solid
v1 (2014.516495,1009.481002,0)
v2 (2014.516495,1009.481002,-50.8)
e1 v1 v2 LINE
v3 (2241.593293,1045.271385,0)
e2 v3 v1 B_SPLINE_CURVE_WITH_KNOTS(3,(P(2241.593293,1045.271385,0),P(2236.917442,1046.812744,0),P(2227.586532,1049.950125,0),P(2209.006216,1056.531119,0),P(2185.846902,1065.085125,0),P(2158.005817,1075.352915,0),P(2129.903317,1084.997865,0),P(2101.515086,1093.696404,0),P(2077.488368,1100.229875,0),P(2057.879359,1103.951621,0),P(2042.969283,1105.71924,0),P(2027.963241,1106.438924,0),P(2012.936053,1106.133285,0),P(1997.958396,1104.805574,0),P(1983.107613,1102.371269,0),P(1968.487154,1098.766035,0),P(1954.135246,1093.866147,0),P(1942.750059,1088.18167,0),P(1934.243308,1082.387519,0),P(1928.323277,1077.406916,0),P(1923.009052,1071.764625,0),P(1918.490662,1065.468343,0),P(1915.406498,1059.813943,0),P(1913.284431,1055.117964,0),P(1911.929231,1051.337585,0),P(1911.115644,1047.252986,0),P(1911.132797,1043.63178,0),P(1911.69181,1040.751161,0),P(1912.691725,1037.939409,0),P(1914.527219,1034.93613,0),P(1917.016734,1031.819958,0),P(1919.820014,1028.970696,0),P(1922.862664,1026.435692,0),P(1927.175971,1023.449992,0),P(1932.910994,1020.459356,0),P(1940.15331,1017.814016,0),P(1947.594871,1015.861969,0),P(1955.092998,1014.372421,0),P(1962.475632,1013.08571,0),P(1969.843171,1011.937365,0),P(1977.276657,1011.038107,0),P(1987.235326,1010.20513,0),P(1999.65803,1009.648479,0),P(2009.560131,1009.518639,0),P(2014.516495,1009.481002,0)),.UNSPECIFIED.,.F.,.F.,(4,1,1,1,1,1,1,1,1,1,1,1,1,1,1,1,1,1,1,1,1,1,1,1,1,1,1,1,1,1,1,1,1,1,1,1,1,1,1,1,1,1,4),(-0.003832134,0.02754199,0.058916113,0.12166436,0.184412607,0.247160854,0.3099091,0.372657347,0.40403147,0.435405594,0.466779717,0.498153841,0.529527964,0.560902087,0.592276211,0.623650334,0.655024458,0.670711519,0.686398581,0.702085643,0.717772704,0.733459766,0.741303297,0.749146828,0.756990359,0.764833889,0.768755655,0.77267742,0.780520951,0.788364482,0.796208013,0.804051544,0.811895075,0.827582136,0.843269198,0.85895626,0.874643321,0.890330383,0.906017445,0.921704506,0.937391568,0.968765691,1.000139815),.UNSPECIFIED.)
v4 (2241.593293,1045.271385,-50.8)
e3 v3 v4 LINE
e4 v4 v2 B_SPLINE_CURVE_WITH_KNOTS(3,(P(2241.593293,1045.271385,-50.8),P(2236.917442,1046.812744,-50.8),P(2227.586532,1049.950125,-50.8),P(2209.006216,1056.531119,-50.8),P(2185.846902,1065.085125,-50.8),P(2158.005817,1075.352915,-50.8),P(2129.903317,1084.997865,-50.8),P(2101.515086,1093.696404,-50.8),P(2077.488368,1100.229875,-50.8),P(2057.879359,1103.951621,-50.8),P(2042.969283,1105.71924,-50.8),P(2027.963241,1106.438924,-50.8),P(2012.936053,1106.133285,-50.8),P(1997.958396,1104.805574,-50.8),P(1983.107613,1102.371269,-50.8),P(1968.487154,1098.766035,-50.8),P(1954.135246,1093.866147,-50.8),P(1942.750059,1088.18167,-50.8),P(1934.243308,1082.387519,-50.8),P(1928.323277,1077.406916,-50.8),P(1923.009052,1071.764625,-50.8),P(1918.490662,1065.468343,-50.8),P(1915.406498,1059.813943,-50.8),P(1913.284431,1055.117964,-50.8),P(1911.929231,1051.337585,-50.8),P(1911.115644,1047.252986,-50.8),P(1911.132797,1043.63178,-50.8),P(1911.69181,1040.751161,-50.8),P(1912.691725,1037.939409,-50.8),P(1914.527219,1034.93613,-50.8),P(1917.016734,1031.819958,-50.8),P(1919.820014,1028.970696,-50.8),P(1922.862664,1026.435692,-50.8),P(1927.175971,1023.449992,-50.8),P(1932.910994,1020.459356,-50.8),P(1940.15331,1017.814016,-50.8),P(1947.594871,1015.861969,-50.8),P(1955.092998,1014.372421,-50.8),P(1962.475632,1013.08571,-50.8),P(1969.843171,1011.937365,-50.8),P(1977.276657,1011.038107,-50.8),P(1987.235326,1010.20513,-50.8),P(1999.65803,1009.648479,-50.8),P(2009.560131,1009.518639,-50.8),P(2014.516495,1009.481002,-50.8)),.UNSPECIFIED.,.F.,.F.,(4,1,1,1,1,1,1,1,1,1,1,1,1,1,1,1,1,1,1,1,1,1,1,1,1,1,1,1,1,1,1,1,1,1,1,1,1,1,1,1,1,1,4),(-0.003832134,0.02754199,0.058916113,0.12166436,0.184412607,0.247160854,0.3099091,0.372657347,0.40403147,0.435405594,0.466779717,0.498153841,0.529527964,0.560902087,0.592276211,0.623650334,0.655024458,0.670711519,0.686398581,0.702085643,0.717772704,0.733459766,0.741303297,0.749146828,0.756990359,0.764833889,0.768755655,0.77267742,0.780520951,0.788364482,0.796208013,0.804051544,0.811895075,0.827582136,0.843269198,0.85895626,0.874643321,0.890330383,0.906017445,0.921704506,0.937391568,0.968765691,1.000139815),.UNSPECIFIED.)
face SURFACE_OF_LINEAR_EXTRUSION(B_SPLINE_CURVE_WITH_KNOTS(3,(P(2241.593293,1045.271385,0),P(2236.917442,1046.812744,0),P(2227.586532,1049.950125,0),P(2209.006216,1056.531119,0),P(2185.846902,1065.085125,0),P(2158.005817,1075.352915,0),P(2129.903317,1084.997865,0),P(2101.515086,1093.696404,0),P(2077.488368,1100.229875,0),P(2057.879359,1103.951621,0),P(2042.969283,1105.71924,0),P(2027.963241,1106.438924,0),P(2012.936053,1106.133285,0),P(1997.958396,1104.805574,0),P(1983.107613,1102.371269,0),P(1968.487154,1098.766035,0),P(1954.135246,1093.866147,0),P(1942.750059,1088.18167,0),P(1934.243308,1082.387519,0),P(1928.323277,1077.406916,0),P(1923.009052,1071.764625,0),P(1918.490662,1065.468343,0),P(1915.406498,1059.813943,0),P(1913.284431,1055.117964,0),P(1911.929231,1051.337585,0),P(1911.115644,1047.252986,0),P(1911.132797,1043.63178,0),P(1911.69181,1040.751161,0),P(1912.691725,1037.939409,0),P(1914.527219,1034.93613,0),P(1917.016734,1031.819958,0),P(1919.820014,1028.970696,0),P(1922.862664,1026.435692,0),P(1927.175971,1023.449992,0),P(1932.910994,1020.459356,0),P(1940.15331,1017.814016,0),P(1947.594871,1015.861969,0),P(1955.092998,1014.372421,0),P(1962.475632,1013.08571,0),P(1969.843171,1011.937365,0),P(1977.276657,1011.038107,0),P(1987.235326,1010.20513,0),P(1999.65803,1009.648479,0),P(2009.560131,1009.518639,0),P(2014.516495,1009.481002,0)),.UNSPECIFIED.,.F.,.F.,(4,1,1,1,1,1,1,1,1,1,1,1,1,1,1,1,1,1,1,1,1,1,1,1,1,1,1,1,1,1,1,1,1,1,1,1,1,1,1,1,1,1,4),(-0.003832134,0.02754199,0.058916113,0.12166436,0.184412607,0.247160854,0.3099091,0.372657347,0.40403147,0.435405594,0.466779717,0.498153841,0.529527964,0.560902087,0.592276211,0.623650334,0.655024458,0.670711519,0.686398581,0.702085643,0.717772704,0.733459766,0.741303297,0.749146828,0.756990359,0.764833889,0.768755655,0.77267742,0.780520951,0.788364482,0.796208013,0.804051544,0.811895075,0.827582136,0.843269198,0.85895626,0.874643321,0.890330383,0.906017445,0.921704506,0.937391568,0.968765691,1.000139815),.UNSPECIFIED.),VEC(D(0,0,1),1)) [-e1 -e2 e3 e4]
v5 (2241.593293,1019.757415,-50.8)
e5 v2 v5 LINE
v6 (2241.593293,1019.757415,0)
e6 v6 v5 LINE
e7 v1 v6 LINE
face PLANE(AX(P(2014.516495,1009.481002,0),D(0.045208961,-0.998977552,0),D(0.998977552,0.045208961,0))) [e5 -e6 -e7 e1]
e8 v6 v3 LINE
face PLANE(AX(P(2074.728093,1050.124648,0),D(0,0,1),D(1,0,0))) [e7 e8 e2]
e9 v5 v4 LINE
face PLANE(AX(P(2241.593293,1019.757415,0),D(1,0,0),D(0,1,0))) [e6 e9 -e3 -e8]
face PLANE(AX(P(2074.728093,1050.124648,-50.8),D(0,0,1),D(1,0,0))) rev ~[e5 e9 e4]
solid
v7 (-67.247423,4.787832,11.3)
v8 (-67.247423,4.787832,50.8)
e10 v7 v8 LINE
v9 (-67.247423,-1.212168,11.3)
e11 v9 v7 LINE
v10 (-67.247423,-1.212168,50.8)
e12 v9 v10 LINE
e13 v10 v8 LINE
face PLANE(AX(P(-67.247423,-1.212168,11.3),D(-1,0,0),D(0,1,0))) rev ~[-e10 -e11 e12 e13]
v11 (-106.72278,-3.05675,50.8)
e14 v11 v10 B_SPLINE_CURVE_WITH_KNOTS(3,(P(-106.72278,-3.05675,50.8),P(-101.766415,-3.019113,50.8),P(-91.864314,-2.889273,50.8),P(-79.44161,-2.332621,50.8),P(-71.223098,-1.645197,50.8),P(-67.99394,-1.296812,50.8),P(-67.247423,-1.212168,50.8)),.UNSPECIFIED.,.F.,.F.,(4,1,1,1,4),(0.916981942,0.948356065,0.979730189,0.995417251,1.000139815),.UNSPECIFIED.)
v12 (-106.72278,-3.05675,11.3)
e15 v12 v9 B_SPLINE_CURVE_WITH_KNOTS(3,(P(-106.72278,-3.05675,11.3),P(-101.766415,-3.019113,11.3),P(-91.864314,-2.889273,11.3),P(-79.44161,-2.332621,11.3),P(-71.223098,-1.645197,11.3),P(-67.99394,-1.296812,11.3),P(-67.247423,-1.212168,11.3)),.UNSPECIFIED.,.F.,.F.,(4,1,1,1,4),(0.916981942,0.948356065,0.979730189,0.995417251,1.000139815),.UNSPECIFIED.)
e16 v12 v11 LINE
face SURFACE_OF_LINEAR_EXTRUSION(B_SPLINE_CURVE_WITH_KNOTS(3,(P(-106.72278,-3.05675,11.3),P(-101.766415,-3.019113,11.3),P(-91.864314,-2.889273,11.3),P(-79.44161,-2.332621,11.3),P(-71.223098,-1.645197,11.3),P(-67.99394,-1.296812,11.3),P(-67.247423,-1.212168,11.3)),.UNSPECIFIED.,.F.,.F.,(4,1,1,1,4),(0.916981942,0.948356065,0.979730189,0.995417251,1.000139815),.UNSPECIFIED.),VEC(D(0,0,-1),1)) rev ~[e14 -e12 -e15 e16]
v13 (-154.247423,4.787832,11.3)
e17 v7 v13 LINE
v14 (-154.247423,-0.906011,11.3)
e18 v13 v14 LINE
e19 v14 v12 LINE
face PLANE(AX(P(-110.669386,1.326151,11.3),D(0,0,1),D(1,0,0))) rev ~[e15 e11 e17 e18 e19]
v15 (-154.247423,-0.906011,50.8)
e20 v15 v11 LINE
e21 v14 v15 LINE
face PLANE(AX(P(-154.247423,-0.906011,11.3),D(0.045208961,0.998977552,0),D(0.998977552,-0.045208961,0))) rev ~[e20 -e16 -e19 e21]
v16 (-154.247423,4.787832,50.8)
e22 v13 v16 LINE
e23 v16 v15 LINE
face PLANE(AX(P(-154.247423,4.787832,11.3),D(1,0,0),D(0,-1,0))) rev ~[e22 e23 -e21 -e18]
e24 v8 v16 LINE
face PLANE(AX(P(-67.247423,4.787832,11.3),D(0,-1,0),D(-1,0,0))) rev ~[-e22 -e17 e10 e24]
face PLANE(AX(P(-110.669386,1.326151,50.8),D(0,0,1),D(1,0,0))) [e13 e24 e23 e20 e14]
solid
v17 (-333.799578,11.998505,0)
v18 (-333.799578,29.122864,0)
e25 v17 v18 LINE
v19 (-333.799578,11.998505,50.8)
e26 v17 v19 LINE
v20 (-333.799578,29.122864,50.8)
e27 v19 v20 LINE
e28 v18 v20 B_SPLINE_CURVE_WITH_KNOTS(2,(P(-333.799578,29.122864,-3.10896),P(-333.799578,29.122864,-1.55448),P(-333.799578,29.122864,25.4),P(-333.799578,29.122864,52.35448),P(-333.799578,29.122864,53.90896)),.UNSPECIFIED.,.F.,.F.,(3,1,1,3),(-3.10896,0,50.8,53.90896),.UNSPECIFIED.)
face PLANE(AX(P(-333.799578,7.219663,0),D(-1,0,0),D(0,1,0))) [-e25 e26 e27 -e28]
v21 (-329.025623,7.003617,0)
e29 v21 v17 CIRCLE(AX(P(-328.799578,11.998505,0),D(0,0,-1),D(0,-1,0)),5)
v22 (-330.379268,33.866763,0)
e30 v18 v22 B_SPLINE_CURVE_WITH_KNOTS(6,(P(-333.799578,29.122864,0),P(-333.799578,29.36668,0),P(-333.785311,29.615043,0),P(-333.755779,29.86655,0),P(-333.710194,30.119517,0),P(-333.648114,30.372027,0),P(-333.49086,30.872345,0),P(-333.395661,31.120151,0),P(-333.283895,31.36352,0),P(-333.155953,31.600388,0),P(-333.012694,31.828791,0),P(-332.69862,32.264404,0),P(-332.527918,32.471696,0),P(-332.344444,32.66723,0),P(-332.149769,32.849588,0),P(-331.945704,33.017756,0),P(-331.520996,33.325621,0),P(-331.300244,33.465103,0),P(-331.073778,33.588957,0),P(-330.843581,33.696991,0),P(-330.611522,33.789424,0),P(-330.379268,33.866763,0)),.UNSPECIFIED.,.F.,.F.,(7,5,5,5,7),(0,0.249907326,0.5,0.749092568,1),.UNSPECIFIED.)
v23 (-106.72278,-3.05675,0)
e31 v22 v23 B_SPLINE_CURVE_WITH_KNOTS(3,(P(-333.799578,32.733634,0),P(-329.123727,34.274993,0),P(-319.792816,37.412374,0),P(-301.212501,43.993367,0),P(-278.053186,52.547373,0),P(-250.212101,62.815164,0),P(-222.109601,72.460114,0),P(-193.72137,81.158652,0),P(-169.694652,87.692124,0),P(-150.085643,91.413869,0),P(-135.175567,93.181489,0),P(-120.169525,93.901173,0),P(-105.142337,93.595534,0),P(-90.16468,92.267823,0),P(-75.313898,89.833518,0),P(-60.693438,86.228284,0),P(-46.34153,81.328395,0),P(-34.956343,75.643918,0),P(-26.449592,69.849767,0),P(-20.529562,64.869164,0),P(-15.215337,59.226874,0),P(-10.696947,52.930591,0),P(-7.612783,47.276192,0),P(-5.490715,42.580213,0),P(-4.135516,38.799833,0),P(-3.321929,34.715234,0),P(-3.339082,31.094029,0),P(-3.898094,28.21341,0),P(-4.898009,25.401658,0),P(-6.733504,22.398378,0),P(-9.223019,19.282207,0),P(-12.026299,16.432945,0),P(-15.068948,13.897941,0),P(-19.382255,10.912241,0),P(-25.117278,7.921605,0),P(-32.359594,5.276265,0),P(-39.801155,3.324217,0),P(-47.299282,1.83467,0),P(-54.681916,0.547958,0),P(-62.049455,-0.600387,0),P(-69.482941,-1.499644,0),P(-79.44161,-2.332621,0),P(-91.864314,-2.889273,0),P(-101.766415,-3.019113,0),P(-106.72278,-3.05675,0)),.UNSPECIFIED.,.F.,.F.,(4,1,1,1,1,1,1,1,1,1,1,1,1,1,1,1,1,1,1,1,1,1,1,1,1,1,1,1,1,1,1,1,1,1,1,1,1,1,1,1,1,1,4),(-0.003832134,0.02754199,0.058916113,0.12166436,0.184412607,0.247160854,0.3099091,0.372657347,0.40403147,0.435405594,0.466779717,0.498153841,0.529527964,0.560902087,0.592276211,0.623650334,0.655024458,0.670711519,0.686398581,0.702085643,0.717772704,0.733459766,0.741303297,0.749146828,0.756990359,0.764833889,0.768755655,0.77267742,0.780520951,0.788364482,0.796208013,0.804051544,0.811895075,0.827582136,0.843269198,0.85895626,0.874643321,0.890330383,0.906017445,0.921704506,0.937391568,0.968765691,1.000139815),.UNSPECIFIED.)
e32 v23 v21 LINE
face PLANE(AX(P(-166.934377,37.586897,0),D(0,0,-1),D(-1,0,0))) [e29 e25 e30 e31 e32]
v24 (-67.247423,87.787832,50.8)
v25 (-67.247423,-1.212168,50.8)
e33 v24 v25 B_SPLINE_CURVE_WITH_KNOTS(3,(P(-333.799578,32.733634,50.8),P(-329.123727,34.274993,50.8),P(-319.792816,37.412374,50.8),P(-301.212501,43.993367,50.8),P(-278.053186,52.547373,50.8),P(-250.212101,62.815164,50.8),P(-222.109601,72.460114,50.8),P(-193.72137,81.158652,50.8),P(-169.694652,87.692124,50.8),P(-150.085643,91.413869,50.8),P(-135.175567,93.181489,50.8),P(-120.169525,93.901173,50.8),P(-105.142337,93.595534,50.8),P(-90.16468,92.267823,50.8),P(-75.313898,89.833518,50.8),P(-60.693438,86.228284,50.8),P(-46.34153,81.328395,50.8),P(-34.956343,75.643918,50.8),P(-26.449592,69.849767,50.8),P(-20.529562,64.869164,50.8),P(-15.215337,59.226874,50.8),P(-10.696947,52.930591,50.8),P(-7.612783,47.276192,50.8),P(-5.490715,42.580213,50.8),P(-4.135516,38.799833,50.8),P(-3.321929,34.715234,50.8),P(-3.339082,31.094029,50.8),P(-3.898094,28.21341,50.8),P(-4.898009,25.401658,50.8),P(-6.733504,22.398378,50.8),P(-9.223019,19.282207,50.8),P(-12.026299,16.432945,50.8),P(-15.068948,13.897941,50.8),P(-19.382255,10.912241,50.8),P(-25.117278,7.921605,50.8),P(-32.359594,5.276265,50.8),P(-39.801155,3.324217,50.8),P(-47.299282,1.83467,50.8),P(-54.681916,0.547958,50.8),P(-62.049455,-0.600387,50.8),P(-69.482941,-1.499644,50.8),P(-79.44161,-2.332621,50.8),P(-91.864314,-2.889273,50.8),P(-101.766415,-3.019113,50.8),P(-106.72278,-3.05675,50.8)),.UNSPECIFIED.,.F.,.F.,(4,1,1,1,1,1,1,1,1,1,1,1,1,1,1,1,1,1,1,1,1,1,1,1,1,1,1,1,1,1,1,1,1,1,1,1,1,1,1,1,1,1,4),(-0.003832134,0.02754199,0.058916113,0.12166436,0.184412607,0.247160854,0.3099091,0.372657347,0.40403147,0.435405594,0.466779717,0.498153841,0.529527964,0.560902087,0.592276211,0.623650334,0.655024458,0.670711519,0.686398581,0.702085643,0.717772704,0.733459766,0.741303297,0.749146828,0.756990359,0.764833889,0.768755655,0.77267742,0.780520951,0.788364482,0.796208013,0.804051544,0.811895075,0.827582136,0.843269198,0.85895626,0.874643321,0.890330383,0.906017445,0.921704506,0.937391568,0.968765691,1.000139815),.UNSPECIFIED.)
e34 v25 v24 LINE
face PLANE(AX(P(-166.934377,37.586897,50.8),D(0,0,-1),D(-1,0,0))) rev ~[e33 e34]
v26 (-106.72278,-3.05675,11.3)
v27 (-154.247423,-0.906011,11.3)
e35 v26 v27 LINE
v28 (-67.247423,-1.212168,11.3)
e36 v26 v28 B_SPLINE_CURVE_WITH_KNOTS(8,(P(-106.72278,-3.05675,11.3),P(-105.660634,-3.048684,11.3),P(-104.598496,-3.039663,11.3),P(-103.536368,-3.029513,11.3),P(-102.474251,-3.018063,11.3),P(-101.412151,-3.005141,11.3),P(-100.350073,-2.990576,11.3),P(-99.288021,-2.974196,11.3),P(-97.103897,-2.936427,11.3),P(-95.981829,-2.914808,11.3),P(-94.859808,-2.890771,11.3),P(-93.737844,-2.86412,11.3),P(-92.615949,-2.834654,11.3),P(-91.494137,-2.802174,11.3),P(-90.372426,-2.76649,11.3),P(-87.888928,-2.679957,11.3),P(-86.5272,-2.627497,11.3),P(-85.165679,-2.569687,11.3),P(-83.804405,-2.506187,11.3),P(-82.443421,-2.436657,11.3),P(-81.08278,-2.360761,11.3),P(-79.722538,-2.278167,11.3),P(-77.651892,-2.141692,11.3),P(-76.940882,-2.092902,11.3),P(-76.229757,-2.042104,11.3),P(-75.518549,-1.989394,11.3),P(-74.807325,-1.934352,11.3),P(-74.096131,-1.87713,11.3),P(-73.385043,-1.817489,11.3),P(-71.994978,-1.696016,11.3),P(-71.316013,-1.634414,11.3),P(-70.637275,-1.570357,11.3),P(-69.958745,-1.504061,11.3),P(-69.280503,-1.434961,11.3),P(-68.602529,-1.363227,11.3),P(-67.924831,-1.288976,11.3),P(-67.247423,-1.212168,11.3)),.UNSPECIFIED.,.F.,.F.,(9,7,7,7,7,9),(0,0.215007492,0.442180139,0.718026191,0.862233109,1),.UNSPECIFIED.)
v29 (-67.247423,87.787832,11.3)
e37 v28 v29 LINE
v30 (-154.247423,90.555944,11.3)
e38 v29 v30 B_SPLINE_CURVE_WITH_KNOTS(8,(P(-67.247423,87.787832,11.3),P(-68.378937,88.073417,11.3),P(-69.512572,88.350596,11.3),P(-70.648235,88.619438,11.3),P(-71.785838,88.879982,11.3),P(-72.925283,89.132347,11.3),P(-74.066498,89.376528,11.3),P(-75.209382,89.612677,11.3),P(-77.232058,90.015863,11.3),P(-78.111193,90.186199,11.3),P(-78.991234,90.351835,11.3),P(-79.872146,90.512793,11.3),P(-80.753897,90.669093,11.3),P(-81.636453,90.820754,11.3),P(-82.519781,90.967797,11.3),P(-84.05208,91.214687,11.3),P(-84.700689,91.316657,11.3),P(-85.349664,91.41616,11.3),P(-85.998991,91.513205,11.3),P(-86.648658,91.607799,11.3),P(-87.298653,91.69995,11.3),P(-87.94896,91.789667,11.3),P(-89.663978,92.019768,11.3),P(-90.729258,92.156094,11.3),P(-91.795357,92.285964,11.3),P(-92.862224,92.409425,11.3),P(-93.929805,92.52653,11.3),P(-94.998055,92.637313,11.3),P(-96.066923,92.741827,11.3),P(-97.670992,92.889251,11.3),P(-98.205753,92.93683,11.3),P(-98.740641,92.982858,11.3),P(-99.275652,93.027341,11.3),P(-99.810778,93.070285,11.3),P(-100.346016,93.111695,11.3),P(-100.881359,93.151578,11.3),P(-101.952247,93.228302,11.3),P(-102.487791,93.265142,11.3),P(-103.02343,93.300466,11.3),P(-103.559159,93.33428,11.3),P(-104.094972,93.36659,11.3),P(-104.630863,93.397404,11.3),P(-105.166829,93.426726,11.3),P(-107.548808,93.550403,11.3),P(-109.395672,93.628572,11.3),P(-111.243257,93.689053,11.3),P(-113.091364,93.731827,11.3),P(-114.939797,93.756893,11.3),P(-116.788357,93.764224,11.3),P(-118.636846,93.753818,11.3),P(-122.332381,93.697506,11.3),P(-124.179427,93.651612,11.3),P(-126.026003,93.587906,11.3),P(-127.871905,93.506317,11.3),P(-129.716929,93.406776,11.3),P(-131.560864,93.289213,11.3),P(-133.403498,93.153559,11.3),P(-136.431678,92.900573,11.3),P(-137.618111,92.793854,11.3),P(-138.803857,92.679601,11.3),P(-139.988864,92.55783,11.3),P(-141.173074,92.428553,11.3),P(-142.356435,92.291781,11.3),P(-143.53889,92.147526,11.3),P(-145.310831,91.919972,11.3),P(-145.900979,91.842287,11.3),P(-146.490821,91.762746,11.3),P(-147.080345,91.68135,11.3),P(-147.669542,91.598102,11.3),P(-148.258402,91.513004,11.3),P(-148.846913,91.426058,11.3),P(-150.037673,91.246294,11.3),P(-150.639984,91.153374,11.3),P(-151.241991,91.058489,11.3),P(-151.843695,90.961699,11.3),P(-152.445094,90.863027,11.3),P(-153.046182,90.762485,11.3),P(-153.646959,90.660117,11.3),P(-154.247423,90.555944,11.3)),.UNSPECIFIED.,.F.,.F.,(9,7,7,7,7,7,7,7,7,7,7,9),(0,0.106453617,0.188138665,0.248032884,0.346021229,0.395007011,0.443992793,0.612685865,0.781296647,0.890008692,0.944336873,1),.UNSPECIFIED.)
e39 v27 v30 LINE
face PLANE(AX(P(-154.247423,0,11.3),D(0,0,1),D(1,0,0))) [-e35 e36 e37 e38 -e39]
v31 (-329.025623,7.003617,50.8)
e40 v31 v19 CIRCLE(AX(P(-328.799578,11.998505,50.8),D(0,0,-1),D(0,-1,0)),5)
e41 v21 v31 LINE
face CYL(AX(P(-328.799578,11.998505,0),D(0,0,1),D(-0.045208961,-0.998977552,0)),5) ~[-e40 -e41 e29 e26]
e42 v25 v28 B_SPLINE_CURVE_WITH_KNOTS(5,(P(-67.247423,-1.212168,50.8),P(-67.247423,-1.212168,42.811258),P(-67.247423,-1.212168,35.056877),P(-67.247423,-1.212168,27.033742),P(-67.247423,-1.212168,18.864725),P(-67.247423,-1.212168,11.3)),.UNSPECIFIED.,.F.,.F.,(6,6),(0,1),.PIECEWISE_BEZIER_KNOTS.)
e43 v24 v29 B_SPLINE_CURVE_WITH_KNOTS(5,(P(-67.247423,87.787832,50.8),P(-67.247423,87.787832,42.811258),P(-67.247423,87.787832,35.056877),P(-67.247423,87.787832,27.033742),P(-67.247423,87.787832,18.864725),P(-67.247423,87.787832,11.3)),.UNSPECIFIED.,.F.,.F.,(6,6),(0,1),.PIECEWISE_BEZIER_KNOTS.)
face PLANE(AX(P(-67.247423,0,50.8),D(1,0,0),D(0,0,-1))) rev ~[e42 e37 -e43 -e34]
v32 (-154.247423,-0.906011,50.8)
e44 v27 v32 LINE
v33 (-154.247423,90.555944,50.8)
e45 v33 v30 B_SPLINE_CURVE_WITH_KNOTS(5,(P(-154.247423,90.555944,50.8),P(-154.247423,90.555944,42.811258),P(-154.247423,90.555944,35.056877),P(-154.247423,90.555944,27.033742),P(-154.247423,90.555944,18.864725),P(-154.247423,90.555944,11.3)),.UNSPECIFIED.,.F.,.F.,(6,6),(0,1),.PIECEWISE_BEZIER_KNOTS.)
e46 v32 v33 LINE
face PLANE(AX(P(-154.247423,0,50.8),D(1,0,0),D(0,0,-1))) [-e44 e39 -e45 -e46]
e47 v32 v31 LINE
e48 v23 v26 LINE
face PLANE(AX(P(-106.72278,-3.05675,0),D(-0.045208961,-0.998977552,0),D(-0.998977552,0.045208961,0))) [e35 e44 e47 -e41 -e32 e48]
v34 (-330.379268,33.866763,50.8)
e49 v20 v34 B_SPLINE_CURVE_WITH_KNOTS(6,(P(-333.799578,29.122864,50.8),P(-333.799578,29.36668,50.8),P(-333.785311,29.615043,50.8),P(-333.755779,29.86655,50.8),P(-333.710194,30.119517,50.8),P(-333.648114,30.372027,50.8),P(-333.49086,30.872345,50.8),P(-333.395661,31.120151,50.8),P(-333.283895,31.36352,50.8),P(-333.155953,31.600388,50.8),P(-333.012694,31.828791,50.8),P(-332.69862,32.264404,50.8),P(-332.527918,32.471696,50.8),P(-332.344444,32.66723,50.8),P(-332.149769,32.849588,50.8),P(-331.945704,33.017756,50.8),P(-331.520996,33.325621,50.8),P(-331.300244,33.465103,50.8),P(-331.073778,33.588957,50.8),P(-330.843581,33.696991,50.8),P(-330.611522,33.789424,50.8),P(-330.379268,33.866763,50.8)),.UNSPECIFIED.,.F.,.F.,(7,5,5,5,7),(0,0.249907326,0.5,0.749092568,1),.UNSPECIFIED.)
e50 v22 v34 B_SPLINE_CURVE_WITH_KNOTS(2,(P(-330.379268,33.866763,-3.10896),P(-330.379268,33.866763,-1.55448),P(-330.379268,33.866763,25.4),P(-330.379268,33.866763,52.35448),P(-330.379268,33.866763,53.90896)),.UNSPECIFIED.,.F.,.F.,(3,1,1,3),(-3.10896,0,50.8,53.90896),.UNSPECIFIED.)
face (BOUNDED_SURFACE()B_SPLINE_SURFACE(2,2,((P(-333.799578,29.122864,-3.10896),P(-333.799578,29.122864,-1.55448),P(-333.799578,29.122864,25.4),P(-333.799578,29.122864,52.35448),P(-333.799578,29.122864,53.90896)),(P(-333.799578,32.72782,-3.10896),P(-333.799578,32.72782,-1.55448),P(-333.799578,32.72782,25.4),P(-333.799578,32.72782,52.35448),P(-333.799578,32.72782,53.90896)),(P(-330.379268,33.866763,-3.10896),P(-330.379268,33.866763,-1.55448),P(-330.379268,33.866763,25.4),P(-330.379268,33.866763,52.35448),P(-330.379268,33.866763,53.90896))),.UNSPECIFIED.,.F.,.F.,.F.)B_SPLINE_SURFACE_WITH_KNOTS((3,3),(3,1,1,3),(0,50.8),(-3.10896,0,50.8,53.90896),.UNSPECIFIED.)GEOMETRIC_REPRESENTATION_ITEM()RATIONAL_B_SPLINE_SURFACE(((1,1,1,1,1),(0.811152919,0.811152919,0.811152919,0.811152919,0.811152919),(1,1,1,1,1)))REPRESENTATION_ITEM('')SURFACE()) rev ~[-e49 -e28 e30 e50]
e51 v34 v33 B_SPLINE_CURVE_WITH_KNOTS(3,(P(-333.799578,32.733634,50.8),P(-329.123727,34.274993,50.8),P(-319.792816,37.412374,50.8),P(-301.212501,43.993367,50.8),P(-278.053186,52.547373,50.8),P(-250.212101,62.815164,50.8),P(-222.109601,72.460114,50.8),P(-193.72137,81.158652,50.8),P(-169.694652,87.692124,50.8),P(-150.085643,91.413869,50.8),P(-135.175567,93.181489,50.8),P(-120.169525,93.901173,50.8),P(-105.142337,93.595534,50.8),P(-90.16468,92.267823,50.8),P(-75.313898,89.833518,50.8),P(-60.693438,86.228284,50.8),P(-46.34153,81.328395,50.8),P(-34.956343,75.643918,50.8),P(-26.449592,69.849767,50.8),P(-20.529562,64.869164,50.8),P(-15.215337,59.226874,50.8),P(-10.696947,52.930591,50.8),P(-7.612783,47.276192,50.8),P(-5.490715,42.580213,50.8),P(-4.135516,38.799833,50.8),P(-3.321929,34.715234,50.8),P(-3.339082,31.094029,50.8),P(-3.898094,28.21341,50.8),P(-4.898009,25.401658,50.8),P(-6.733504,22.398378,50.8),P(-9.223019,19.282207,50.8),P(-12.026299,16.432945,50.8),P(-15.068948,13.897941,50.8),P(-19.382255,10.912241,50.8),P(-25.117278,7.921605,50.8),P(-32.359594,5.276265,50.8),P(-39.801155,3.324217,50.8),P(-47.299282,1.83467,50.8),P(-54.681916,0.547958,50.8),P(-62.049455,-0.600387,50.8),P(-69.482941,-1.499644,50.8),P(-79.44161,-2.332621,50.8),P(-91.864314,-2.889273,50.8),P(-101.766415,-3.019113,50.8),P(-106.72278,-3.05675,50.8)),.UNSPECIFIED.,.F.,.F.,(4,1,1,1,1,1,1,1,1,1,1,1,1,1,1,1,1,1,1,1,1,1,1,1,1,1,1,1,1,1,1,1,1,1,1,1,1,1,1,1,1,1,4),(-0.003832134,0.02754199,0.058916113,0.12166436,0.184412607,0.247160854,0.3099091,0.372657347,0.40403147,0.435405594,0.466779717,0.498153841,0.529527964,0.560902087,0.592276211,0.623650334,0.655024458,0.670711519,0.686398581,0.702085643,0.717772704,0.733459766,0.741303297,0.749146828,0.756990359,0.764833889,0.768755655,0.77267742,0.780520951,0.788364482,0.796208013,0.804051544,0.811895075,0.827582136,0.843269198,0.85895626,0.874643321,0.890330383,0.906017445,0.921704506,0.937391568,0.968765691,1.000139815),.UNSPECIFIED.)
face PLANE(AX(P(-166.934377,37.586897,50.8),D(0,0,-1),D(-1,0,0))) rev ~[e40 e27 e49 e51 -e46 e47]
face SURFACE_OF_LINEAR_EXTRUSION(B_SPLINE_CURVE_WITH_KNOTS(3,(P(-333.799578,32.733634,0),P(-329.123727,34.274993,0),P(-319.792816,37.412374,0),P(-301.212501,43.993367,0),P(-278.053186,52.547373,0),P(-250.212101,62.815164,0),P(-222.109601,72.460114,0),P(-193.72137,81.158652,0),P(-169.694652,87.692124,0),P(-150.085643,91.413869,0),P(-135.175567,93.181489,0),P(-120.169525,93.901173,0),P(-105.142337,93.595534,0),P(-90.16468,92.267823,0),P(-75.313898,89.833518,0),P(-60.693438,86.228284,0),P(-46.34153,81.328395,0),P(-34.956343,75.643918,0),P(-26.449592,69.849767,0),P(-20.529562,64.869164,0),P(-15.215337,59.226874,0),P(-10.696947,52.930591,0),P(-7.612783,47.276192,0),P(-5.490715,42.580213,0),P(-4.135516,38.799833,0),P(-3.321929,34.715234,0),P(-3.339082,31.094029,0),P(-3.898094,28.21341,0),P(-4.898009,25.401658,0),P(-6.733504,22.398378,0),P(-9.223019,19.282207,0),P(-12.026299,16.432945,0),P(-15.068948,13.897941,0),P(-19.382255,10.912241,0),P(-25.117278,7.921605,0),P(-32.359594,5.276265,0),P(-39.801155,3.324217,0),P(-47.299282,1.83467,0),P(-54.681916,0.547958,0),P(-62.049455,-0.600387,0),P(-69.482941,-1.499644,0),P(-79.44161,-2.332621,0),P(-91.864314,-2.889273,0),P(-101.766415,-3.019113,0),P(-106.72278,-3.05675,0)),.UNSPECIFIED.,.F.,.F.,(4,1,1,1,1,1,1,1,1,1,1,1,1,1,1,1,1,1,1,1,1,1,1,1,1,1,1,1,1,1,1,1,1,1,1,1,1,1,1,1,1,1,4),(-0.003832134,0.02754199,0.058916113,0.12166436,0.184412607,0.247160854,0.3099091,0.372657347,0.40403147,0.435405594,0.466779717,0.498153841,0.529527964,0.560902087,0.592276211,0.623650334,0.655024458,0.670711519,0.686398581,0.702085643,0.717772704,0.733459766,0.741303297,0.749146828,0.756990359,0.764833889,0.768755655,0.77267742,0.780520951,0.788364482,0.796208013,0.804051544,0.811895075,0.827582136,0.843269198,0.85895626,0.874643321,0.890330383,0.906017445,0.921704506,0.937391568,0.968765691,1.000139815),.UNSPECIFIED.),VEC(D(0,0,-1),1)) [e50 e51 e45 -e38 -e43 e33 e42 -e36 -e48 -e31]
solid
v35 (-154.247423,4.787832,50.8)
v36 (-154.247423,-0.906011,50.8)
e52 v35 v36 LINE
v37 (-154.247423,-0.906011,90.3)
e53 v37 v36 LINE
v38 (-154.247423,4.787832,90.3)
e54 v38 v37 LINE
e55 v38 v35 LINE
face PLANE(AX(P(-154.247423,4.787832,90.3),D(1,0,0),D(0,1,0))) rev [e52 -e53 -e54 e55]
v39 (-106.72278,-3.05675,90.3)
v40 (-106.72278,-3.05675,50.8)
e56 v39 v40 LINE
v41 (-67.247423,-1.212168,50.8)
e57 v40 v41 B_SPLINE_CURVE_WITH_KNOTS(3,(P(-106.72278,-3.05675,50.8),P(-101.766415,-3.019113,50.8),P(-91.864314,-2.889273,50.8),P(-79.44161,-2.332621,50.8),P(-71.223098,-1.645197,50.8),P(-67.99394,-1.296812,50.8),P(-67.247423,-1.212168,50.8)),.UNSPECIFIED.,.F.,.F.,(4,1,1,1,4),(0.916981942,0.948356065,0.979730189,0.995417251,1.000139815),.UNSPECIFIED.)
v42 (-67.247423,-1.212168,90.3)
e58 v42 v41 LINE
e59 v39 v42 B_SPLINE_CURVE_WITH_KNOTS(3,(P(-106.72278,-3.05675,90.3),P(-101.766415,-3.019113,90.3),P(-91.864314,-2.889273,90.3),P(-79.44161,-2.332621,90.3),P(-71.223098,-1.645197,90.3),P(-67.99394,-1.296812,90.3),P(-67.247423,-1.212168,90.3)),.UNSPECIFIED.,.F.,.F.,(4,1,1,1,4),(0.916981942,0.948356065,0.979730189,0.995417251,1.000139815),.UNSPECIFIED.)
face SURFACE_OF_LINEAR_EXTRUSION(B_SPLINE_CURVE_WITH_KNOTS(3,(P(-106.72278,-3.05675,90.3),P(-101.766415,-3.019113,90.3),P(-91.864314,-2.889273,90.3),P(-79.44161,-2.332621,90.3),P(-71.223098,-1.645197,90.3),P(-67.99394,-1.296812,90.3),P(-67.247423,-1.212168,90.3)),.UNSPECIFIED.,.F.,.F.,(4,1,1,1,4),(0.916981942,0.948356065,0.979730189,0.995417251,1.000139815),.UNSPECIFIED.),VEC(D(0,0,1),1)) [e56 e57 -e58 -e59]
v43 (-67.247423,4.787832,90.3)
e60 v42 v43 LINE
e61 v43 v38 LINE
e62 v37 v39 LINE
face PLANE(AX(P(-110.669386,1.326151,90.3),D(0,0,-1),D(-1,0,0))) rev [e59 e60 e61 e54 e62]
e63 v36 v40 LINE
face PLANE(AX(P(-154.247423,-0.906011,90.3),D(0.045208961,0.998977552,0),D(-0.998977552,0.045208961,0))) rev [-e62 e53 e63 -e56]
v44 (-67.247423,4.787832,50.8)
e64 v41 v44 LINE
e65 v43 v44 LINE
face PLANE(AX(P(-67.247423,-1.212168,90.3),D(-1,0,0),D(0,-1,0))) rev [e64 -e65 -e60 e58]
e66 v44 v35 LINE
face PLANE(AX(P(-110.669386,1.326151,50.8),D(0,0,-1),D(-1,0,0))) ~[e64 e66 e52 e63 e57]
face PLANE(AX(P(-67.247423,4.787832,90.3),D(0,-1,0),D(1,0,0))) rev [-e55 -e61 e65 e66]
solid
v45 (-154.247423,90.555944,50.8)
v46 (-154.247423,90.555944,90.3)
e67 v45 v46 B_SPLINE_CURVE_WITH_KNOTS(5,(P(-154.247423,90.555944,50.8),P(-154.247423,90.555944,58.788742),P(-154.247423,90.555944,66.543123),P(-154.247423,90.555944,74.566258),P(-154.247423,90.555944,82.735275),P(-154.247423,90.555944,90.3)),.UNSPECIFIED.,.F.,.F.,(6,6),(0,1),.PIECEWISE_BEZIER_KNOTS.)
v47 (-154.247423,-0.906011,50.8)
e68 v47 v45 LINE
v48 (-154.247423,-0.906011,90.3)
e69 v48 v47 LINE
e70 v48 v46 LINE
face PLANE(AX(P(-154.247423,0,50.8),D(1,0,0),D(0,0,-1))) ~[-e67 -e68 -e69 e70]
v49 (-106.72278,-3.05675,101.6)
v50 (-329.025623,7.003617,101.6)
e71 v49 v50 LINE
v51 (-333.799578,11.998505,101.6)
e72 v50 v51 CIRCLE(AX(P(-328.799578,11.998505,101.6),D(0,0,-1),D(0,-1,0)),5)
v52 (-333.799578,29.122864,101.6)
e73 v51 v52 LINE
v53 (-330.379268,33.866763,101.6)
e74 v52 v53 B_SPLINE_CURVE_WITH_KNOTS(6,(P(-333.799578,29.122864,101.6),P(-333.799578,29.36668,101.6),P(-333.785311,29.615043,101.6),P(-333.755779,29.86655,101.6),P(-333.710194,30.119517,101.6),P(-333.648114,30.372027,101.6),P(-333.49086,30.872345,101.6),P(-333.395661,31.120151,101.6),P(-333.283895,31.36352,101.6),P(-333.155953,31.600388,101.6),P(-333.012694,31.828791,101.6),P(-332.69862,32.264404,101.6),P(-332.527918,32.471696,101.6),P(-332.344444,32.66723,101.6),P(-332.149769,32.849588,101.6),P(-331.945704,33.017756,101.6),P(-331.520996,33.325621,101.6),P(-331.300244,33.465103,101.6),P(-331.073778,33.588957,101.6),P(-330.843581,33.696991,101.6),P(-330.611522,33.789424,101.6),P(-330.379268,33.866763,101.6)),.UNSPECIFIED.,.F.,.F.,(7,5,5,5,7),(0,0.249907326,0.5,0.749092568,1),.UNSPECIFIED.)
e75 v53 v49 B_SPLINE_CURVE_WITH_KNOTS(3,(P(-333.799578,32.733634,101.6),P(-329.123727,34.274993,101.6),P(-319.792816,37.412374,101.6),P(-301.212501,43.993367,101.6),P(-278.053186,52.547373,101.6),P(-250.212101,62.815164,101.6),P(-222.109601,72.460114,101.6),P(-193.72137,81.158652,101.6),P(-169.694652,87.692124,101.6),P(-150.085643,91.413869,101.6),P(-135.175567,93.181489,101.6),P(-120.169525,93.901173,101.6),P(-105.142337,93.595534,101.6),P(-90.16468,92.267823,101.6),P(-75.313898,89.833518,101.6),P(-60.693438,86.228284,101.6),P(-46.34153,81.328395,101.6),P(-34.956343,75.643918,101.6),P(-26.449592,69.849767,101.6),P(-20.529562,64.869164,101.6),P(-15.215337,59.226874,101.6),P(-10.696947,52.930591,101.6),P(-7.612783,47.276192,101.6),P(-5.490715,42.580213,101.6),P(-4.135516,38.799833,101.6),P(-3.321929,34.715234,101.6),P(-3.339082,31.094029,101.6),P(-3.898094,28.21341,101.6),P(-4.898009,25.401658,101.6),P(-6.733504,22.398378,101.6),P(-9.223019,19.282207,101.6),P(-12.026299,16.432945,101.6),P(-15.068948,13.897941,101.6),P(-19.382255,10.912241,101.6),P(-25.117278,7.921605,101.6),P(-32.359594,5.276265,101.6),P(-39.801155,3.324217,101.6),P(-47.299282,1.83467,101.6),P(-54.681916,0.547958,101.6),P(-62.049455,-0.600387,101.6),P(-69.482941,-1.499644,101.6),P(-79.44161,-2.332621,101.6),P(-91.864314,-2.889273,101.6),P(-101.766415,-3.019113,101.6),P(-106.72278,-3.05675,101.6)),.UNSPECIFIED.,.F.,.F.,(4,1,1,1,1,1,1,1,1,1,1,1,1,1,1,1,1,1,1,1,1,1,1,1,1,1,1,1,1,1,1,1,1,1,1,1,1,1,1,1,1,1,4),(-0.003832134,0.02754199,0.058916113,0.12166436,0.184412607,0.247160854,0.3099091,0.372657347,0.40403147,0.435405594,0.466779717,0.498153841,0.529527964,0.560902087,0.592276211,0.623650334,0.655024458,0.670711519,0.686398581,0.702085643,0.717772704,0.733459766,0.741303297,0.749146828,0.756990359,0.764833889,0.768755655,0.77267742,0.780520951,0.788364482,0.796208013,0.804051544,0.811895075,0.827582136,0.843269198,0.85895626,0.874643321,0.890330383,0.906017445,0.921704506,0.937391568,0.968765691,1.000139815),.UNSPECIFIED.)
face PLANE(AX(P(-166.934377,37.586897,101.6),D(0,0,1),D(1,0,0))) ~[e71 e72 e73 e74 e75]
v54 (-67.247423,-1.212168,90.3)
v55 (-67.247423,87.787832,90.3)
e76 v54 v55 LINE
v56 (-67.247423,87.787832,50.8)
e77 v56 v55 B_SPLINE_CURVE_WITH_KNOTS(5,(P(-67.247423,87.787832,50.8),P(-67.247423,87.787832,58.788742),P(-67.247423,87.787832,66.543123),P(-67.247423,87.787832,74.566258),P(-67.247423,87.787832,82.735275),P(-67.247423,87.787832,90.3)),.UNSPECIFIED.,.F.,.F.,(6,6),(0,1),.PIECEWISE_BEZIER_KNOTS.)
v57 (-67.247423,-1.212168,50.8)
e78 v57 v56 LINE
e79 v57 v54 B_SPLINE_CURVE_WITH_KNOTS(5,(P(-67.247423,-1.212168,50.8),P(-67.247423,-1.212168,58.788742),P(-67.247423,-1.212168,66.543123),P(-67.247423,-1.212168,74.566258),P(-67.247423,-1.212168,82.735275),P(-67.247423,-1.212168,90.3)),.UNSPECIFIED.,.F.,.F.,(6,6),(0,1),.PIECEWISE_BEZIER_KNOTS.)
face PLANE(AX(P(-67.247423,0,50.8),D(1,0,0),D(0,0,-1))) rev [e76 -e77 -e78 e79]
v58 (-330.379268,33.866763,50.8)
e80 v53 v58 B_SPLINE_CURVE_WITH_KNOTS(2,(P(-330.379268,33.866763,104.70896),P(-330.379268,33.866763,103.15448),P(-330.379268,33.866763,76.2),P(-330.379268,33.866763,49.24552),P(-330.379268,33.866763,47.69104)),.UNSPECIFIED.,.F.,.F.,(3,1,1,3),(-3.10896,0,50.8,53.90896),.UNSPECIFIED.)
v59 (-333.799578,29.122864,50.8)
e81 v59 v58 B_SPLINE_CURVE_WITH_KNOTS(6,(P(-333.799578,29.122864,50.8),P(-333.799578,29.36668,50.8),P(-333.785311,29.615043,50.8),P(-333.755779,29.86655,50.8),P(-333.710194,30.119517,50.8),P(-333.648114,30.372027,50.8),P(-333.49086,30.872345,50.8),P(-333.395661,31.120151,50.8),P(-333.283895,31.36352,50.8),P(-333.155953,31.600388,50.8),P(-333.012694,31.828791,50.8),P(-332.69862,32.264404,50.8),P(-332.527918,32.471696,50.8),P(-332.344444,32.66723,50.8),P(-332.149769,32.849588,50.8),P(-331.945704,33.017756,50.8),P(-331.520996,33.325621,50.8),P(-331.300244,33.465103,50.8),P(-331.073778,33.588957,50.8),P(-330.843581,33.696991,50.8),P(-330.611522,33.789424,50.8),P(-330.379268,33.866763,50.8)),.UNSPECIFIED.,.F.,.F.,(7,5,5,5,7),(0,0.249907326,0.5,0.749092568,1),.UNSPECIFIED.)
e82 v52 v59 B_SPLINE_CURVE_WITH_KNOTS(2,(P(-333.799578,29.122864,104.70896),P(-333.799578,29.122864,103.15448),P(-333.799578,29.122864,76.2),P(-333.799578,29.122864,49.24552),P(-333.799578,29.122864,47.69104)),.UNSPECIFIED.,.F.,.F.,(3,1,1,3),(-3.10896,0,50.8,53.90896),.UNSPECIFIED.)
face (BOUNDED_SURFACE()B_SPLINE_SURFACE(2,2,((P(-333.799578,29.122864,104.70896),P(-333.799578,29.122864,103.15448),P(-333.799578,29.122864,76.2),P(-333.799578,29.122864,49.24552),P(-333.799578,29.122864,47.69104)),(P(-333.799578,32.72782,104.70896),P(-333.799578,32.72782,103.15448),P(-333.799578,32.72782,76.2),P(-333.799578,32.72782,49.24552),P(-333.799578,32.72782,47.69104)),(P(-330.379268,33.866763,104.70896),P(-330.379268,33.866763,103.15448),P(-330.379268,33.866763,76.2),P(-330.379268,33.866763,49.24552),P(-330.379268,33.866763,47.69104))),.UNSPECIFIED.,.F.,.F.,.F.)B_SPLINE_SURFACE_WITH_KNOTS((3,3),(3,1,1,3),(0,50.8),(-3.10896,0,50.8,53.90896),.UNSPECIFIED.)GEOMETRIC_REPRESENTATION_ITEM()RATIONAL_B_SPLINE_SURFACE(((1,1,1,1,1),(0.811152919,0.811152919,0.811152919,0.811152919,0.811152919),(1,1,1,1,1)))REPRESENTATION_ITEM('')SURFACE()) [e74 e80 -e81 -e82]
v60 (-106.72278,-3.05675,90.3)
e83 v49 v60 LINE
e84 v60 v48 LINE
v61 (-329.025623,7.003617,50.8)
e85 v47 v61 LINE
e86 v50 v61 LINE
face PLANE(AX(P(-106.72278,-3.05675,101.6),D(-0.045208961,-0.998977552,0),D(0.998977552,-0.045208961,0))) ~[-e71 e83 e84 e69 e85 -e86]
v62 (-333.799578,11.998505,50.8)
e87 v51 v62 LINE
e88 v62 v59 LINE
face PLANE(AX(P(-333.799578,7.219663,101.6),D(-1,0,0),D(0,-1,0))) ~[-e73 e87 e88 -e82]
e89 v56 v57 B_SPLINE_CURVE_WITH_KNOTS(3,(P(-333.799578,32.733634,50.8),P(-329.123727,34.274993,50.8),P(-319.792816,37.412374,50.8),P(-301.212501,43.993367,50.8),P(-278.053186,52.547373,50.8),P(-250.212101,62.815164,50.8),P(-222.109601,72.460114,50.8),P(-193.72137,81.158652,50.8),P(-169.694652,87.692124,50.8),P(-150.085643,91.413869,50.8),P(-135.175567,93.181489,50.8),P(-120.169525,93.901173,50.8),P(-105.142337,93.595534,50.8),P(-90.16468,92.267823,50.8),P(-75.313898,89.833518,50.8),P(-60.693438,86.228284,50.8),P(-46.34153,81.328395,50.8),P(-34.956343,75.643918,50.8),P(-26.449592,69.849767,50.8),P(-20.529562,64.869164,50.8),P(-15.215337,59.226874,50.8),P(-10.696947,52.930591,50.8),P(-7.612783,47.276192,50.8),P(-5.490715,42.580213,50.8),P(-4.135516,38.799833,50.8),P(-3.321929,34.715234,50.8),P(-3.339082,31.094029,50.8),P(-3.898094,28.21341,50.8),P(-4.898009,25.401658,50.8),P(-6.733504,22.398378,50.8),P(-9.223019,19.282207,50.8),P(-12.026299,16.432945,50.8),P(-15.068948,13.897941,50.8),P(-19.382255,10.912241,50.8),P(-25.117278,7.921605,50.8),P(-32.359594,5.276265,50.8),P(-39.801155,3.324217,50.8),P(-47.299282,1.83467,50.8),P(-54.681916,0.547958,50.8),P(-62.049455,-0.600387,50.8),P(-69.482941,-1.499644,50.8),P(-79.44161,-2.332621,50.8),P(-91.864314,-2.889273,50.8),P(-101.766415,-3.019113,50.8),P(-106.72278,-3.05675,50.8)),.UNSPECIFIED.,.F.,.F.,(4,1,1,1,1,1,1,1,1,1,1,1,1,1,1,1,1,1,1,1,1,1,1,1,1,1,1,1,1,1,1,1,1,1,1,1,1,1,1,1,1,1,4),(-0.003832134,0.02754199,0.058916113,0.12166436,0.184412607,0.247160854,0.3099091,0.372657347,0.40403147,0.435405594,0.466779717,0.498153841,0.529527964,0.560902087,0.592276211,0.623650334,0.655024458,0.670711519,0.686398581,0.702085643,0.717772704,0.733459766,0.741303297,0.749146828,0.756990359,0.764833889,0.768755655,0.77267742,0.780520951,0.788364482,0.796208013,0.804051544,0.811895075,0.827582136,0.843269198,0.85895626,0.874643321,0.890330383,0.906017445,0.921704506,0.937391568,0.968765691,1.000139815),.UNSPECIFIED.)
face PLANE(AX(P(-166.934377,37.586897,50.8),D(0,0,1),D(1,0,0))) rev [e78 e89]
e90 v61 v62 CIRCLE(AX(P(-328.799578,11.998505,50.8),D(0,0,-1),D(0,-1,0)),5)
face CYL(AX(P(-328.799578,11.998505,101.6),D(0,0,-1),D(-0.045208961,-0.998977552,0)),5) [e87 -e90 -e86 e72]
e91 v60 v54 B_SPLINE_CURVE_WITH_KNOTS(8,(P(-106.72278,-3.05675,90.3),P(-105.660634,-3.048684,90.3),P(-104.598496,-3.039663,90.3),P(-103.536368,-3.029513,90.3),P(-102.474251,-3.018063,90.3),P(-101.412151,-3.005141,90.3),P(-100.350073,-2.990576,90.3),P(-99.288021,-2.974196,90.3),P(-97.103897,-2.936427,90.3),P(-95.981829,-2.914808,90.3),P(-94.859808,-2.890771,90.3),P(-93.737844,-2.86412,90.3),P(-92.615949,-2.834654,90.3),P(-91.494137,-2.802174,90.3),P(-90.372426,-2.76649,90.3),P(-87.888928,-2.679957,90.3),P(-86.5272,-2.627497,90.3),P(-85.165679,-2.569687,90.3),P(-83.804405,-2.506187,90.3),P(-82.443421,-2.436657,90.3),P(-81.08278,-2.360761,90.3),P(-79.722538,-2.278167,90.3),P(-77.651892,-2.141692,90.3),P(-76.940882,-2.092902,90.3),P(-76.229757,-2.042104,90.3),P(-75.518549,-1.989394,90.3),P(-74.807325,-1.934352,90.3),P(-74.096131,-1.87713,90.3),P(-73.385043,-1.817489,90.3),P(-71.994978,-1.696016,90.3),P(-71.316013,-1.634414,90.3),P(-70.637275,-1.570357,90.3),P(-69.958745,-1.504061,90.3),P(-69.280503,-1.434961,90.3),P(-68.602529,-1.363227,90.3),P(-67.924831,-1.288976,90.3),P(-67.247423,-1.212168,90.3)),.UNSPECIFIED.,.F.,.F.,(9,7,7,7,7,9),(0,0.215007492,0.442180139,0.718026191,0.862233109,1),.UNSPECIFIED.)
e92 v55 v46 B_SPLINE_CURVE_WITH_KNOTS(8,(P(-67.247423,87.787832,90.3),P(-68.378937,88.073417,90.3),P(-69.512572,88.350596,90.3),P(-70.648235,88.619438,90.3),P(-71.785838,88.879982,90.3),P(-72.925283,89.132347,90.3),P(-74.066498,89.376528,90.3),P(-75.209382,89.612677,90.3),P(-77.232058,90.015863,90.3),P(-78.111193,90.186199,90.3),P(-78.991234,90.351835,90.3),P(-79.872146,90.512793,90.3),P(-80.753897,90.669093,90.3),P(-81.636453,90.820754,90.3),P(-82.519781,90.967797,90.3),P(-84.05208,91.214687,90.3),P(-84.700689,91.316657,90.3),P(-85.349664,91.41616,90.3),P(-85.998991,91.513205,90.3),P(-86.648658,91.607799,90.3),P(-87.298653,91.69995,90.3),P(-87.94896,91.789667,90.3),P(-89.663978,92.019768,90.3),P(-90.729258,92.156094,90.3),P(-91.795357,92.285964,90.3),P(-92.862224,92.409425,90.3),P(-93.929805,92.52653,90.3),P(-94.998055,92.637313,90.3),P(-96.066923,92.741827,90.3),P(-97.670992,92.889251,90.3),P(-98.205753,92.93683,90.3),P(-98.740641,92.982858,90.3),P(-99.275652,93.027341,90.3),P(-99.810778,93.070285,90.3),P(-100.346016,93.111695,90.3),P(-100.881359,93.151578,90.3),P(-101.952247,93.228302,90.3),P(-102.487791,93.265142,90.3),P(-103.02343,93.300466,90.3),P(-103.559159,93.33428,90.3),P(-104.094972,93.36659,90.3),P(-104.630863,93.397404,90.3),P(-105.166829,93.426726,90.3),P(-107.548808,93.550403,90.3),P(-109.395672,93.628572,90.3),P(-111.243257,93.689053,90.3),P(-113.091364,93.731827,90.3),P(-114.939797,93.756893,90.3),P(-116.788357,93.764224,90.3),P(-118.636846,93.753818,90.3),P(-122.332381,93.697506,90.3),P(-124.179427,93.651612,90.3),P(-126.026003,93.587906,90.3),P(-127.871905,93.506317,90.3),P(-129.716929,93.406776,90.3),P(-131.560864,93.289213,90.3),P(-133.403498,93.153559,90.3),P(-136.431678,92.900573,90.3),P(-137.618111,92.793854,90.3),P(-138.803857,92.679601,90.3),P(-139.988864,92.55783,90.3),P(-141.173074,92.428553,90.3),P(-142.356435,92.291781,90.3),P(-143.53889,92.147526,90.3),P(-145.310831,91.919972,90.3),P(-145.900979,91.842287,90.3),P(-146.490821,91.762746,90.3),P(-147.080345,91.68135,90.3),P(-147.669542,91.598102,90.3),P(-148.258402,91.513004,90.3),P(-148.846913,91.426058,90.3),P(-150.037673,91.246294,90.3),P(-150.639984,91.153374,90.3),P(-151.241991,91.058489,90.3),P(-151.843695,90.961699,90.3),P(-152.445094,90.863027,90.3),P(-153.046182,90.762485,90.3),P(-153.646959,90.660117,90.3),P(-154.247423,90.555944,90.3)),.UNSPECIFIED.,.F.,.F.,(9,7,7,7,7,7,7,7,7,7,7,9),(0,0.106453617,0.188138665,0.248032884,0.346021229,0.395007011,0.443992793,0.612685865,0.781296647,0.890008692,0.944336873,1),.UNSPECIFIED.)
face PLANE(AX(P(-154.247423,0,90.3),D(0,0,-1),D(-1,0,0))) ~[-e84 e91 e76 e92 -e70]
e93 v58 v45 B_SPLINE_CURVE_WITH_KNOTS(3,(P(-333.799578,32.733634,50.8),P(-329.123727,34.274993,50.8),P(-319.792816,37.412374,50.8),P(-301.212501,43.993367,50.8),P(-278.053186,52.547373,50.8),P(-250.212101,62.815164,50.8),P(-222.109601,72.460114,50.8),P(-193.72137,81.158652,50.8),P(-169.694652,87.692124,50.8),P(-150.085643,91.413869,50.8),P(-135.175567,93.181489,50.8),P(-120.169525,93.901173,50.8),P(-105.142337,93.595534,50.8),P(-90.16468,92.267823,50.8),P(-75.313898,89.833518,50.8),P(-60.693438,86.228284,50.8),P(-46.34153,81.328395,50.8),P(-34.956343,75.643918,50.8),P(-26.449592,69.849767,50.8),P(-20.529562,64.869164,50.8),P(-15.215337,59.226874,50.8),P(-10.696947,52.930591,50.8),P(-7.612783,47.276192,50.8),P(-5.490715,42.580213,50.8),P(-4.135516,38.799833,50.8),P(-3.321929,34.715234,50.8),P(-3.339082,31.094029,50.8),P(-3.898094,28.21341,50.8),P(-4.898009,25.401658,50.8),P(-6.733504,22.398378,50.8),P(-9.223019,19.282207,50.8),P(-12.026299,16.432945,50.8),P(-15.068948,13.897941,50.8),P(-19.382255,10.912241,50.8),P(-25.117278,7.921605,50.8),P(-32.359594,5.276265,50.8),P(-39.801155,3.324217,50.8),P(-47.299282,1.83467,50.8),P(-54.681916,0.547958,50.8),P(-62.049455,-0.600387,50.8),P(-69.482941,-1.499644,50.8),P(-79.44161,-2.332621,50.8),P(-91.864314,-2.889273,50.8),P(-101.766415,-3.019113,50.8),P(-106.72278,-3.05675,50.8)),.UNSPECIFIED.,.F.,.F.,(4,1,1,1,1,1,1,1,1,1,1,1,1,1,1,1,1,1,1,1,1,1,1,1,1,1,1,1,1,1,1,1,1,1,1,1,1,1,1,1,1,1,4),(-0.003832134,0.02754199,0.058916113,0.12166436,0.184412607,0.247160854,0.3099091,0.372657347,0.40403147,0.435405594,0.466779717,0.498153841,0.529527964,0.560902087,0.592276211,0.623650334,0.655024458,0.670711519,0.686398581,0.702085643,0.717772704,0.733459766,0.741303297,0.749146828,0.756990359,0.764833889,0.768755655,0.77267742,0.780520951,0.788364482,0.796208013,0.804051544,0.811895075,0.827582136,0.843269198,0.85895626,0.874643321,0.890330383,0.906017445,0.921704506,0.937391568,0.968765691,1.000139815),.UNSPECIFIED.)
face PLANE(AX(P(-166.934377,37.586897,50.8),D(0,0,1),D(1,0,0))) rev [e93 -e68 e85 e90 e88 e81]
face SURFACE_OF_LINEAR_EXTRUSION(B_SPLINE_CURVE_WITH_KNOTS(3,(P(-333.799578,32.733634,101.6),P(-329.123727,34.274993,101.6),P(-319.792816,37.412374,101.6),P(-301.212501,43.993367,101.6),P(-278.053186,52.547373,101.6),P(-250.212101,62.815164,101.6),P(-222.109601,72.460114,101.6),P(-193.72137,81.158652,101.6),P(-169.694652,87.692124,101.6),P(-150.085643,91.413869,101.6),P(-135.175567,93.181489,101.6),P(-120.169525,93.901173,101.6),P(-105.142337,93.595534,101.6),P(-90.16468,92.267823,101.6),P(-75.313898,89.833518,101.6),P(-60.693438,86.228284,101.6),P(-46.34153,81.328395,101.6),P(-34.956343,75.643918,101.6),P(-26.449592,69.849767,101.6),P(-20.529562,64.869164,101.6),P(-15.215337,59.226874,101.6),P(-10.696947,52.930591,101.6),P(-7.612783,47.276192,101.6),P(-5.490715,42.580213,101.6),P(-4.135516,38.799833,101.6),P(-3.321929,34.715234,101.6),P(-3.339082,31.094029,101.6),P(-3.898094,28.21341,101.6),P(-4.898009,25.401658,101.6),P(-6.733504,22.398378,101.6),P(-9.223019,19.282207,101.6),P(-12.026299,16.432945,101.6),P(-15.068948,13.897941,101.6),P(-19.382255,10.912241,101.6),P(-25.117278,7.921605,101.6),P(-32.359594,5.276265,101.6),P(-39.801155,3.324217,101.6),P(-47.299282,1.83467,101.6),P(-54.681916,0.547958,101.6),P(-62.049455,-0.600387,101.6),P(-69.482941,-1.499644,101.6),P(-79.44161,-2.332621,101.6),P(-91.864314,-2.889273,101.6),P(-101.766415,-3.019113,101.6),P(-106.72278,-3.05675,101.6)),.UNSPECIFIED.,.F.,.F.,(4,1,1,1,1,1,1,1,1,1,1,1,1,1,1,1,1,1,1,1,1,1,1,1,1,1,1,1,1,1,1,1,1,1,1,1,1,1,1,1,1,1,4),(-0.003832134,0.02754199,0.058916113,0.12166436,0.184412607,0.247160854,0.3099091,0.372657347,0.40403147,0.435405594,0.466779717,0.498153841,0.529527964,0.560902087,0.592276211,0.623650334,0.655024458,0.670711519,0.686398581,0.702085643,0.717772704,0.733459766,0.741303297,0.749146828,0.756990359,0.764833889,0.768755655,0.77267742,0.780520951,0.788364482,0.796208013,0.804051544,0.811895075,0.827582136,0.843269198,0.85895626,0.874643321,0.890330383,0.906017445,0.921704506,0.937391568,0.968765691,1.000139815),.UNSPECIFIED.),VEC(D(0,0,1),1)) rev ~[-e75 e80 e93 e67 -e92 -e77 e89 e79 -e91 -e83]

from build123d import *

# Parameters (mm, degrees)
BOSS_EXTRUDE2_DEPTH     = 50.8
FILLET2_R               = 5
SKETCH5_W               = 87
SKETCH5_H               = 39.5
CUT_EXTRUDE1_DEPTH      = 94.751189975
CUT_EXTRUDE1_DEPTH_BACK = 4.056749877
BOSS_EXTRUDE4_DEPTH     = 39.5
BOSS_EXTRUDE3_DEPTH     = 50.8


with BuildPart() as part:
    # Sketch2 → Boss-Extrude2 (new body)
    with BuildSketch(Plane.XY):
        with BuildLine():
            Line((-106.722779814, -3.056749777), (-333.799577852, 7.21966339))
            Line((-333.799577852, 7.21966339), (-333.799577852, 32.733633757))
            add(Edge.make_bspline(
                [(-333.799577852, 32.733633757), (-329.123726706, 34.274992563), (-319.792816147, 37.412373922), (-301.212500591, 43.993367263), (-278.05318635, 52.547373307), (-250.212100944, 62.815163989), (-222.109601473, 72.460113993), (-193.72137012, 81.15865237), (-169.694652242, 87.692123859), (-150.08564319, 91.413869046), (-135.175567465, 93.181488739), (-120.169525086, 93.901172546), (-105.14233718, 93.595533925), (-90.164680094, 92.267822954), (-75.313897799, 89.833517635), (-60.693438177, 86.228283506), (-46.341530434, 81.328395303), (-34.956343241, 75.643918425), (-26.449592019, 69.84976709), (-20.529561544, 64.86916439), (-15.215336755, 59.226873702), (-10.696946545, 52.930591349), (-7.612782659, 47.276191858), (-5.490715451, 42.580212712), (-4.135515755, 38.799833308), (-3.321928596, 34.715234365), (-3.33908171, 31.094028976), (-3.898094383, 28.213409742), (-4.898009423, 25.401657881), (-6.733503696, 22.398378039), (-9.223018864, 19.282206961), (-12.026298866, 16.432944726), (-15.068947941, 13.897940857), (-19.382255095, 10.912240948), (-25.117278078, 7.921604732), (-32.359594325, 5.276264911), (-39.801155453, 3.324217396), (-47.299282261, 1.834669556), (-54.681916309, 0.547958399), (-62.04945499, -0.600386665), (-69.48294113, -1.499644473), (-79.441609879, -2.332621433), (-91.864314175, -2.8892729), (-101.766415387, -3.01911256), (-106.722779814, -3.056749777)],
                knots=[-0.003832134, -0.003832134, -0.003832134, -0.003832134, 0.02754199, 0.058916113, 0.12166436, 0.184412607, 0.247160854, 0.3099091, 0.372657347, 0.40403147, 0.435405594, 0.466779717, 0.498153841, 0.529527964, 0.560902087, 0.592276211, 0.623650334, 0.655024458, 0.670711519, 0.686398581, 0.702085643, 0.717772704, 0.733459766, 0.741303297, 0.749146828, 0.756990359, 0.764833889, 0.768755655, 0.77267742, 0.780520951, 0.788364482, 0.796208013, 0.804051544, 0.811895075, 0.827582136, 0.843269198, 0.85895626, 0.874643321, 0.890330383, 0.906017445, 0.921704506, 0.937391568, 0.968765691, 1.000139815, 1.000139815, 1.000139815, 1.000139815], degree=3))
        make_face()
    extrude(amount=BOSS_EXTRUDE2_DEPTH)

    # Fillet2
    fillet2_edges = [part.edges().sort_by_distance(p)[0] for p in [
        (-333.799577852, 7.21966339, 25.4),
        (-333.799577852, 32.733633757, 25.4),
    ]]
    fillet(fillet2_edges, radius=FILLET2_R)

    # Sketch5 → Cut-Extrude1 (cut, two sides)
    with BuildSketch(Plane(origin=(0, 0, 0), x_dir=(1, 0, 0), z_dir=(0, 1, 0))) as cut_extrude1_sk:
        with Locations((-110.74742333, -31.05)):
            Rectangle(SKETCH5_W, SKETCH5_H)
    extrude(amount=CUT_EXTRUDE1_DEPTH, mode=Mode.SUBTRACT)
    extrude(cut_extrude1_sk.sketch, amount=-CUT_EXTRUDE1_DEPTH_BACK, mode=Mode.SUBTRACT)


with BuildPart() as body_2:
    # Sketch7 → Boss-Extrude4 (new body)
    with BuildSketch(Plane.XY.offset(11.3)):
        with BuildLine():
            Line((-154.24742333, -0.906011011), (-106.722779814, -3.056749777))
            add(Edge.make_bspline(
                [(-106.722779814, -3.056749777), (-101.766415387, -3.01911256), (-91.864314175, -2.8892729), (-79.441609879, -2.332621433), (-71.223098072, -1.645197125), (-67.993940291, -1.296811964), (-67.24742333, -1.212168414)],
                knots=[0.916981942, 0.916981942, 0.916981942, 0.916981942, 0.948356065, 0.979730189, 0.995417251, 1.000139815, 1.000139815, 1.000139815, 1.000139815], degree=3))
            Line((-67.24742333, -1.212168414), (-67.24742333, 4.787831586))
            Line((-67.24742333, 4.787831586), (-154.24742333, 4.787831586))
            Line((-154.24742333, 4.787831586), (-154.24742333, -0.906011011))
        make_face()
    extrude(amount=BOSS_EXTRUDE4_DEPTH)


with BuildPart() as body_3:
    # Mirror1: mirrored copy
    add(part.part.mirror(Plane.XY.offset(50.8)))


with BuildPart() as body_4:
    # Mirror1 2: mirrored copy
    add(body_2.part.mirror(Plane.XY.offset(50.8)))


with BuildPart() as body_5:
    # Sketch6 → Boss-Extrude3 (new body)
    with BuildSketch(Plane(origin=(0, 0, 0), x_dir=(-1, 0, 0), z_dir=(0, 0, -1))):
        with BuildLine():
            Line((-2014.516495435, 1009.481001687), (-2241.593293473, 1019.757414854))
            Line((-2241.593293473, 1019.757414854), (-2241.593293473, 1045.271385222))
            add(Edge.make_bspline(
                [(-2241.593293473, 1045.271385222), (-2236.917442327, 1046.812744027), (-2227.586531768, 1049.950125386), (-2209.006216213, 1056.531118727), (-2185.846901971, 1065.085124772), (-2158.005816566, 1075.352915454), (-2129.903317094, 1084.997865457), (-2101.515085741, 1093.696403834), (-2077.488367864, 1100.229875324), (-2057.879358811, 1103.951620511), (-2042.969283086, 1105.719240204), (-2027.963240707, 1106.438924011), (-2012.936052801, 1106.133285389), (-1997.958395715, 1104.805574418), (-1983.107613421, 1102.371269099), (-1968.487153799, 1098.76603497), (-1954.135246055, 1093.866146768), (-1942.750058862, 1088.18166989), (-1934.243307641, 1082.387518554), (-1928.323277165, 1077.406915854), (-1923.009052376, 1071.764625166), (-1918.490662166, 1065.468342813), (-1915.40649828, 1059.813943322), (-1913.284431072, 1055.117964177), (-1911.929231376, 1051.337584772), (-1911.115644217, 1047.252985829), (-1911.132797332, 1043.63178044), (-1911.691810004, 1040.751161207), (-1912.691725044, 1037.939409345), (-1914.527219317, 1034.936129503), (-1917.016734486, 1031.819958425), (-1919.820014487, 1028.970696191), (-1922.862663562, 1026.435692321), (-1927.175970716, 1023.449992412), (-1932.9109937, 1020.459356197), (-1940.153309946, 1017.814016376), (-1947.594871074, 1015.86196886), (-1955.092997882, 1014.372421021), (-1962.47563193, 1013.085709864), (-1969.843170611, 1011.9373648), (-1977.276656752, 1011.038106991), (-1987.235325501, 1010.205130032), (-1999.658029796, 1009.648478564), (-2009.560131008, 1009.518638905), (-2014.516495435, 1009.481001687)],
                knots=[-0.003832134, -0.003832134, -0.003832134, -0.003832134, 0.02754199, 0.058916113, 0.12166436, 0.184412607, 0.247160854, 0.3099091, 0.372657347, 0.40403147, 0.435405594, 0.466779717, 0.498153841, 0.529527964, 0.560902087, 0.592276211, 0.623650334, 0.655024458, 0.670711519, 0.686398581, 0.702085643, 0.717772704, 0.733459766, 0.741303297, 0.749146828, 0.756990359, 0.764833889, 0.768755655, 0.77267742, 0.780520951, 0.788364482, 0.796208013, 0.804051544, 0.811895075, 0.827582136, 0.843269198, 0.85895626, 0.874643321, 0.890330383, 0.906017445, 0.921704506, 0.937391568, 0.968765691, 1.000139815, 1.000139815, 1.000139815, 1.000139815], degree=3))
        make_face()
    extrude(amount=BOSS_EXTRUDE3_DEPTH)


solid = Compound([part.part, body_2.part, body_3.part, body_4.part, body_5.part])
